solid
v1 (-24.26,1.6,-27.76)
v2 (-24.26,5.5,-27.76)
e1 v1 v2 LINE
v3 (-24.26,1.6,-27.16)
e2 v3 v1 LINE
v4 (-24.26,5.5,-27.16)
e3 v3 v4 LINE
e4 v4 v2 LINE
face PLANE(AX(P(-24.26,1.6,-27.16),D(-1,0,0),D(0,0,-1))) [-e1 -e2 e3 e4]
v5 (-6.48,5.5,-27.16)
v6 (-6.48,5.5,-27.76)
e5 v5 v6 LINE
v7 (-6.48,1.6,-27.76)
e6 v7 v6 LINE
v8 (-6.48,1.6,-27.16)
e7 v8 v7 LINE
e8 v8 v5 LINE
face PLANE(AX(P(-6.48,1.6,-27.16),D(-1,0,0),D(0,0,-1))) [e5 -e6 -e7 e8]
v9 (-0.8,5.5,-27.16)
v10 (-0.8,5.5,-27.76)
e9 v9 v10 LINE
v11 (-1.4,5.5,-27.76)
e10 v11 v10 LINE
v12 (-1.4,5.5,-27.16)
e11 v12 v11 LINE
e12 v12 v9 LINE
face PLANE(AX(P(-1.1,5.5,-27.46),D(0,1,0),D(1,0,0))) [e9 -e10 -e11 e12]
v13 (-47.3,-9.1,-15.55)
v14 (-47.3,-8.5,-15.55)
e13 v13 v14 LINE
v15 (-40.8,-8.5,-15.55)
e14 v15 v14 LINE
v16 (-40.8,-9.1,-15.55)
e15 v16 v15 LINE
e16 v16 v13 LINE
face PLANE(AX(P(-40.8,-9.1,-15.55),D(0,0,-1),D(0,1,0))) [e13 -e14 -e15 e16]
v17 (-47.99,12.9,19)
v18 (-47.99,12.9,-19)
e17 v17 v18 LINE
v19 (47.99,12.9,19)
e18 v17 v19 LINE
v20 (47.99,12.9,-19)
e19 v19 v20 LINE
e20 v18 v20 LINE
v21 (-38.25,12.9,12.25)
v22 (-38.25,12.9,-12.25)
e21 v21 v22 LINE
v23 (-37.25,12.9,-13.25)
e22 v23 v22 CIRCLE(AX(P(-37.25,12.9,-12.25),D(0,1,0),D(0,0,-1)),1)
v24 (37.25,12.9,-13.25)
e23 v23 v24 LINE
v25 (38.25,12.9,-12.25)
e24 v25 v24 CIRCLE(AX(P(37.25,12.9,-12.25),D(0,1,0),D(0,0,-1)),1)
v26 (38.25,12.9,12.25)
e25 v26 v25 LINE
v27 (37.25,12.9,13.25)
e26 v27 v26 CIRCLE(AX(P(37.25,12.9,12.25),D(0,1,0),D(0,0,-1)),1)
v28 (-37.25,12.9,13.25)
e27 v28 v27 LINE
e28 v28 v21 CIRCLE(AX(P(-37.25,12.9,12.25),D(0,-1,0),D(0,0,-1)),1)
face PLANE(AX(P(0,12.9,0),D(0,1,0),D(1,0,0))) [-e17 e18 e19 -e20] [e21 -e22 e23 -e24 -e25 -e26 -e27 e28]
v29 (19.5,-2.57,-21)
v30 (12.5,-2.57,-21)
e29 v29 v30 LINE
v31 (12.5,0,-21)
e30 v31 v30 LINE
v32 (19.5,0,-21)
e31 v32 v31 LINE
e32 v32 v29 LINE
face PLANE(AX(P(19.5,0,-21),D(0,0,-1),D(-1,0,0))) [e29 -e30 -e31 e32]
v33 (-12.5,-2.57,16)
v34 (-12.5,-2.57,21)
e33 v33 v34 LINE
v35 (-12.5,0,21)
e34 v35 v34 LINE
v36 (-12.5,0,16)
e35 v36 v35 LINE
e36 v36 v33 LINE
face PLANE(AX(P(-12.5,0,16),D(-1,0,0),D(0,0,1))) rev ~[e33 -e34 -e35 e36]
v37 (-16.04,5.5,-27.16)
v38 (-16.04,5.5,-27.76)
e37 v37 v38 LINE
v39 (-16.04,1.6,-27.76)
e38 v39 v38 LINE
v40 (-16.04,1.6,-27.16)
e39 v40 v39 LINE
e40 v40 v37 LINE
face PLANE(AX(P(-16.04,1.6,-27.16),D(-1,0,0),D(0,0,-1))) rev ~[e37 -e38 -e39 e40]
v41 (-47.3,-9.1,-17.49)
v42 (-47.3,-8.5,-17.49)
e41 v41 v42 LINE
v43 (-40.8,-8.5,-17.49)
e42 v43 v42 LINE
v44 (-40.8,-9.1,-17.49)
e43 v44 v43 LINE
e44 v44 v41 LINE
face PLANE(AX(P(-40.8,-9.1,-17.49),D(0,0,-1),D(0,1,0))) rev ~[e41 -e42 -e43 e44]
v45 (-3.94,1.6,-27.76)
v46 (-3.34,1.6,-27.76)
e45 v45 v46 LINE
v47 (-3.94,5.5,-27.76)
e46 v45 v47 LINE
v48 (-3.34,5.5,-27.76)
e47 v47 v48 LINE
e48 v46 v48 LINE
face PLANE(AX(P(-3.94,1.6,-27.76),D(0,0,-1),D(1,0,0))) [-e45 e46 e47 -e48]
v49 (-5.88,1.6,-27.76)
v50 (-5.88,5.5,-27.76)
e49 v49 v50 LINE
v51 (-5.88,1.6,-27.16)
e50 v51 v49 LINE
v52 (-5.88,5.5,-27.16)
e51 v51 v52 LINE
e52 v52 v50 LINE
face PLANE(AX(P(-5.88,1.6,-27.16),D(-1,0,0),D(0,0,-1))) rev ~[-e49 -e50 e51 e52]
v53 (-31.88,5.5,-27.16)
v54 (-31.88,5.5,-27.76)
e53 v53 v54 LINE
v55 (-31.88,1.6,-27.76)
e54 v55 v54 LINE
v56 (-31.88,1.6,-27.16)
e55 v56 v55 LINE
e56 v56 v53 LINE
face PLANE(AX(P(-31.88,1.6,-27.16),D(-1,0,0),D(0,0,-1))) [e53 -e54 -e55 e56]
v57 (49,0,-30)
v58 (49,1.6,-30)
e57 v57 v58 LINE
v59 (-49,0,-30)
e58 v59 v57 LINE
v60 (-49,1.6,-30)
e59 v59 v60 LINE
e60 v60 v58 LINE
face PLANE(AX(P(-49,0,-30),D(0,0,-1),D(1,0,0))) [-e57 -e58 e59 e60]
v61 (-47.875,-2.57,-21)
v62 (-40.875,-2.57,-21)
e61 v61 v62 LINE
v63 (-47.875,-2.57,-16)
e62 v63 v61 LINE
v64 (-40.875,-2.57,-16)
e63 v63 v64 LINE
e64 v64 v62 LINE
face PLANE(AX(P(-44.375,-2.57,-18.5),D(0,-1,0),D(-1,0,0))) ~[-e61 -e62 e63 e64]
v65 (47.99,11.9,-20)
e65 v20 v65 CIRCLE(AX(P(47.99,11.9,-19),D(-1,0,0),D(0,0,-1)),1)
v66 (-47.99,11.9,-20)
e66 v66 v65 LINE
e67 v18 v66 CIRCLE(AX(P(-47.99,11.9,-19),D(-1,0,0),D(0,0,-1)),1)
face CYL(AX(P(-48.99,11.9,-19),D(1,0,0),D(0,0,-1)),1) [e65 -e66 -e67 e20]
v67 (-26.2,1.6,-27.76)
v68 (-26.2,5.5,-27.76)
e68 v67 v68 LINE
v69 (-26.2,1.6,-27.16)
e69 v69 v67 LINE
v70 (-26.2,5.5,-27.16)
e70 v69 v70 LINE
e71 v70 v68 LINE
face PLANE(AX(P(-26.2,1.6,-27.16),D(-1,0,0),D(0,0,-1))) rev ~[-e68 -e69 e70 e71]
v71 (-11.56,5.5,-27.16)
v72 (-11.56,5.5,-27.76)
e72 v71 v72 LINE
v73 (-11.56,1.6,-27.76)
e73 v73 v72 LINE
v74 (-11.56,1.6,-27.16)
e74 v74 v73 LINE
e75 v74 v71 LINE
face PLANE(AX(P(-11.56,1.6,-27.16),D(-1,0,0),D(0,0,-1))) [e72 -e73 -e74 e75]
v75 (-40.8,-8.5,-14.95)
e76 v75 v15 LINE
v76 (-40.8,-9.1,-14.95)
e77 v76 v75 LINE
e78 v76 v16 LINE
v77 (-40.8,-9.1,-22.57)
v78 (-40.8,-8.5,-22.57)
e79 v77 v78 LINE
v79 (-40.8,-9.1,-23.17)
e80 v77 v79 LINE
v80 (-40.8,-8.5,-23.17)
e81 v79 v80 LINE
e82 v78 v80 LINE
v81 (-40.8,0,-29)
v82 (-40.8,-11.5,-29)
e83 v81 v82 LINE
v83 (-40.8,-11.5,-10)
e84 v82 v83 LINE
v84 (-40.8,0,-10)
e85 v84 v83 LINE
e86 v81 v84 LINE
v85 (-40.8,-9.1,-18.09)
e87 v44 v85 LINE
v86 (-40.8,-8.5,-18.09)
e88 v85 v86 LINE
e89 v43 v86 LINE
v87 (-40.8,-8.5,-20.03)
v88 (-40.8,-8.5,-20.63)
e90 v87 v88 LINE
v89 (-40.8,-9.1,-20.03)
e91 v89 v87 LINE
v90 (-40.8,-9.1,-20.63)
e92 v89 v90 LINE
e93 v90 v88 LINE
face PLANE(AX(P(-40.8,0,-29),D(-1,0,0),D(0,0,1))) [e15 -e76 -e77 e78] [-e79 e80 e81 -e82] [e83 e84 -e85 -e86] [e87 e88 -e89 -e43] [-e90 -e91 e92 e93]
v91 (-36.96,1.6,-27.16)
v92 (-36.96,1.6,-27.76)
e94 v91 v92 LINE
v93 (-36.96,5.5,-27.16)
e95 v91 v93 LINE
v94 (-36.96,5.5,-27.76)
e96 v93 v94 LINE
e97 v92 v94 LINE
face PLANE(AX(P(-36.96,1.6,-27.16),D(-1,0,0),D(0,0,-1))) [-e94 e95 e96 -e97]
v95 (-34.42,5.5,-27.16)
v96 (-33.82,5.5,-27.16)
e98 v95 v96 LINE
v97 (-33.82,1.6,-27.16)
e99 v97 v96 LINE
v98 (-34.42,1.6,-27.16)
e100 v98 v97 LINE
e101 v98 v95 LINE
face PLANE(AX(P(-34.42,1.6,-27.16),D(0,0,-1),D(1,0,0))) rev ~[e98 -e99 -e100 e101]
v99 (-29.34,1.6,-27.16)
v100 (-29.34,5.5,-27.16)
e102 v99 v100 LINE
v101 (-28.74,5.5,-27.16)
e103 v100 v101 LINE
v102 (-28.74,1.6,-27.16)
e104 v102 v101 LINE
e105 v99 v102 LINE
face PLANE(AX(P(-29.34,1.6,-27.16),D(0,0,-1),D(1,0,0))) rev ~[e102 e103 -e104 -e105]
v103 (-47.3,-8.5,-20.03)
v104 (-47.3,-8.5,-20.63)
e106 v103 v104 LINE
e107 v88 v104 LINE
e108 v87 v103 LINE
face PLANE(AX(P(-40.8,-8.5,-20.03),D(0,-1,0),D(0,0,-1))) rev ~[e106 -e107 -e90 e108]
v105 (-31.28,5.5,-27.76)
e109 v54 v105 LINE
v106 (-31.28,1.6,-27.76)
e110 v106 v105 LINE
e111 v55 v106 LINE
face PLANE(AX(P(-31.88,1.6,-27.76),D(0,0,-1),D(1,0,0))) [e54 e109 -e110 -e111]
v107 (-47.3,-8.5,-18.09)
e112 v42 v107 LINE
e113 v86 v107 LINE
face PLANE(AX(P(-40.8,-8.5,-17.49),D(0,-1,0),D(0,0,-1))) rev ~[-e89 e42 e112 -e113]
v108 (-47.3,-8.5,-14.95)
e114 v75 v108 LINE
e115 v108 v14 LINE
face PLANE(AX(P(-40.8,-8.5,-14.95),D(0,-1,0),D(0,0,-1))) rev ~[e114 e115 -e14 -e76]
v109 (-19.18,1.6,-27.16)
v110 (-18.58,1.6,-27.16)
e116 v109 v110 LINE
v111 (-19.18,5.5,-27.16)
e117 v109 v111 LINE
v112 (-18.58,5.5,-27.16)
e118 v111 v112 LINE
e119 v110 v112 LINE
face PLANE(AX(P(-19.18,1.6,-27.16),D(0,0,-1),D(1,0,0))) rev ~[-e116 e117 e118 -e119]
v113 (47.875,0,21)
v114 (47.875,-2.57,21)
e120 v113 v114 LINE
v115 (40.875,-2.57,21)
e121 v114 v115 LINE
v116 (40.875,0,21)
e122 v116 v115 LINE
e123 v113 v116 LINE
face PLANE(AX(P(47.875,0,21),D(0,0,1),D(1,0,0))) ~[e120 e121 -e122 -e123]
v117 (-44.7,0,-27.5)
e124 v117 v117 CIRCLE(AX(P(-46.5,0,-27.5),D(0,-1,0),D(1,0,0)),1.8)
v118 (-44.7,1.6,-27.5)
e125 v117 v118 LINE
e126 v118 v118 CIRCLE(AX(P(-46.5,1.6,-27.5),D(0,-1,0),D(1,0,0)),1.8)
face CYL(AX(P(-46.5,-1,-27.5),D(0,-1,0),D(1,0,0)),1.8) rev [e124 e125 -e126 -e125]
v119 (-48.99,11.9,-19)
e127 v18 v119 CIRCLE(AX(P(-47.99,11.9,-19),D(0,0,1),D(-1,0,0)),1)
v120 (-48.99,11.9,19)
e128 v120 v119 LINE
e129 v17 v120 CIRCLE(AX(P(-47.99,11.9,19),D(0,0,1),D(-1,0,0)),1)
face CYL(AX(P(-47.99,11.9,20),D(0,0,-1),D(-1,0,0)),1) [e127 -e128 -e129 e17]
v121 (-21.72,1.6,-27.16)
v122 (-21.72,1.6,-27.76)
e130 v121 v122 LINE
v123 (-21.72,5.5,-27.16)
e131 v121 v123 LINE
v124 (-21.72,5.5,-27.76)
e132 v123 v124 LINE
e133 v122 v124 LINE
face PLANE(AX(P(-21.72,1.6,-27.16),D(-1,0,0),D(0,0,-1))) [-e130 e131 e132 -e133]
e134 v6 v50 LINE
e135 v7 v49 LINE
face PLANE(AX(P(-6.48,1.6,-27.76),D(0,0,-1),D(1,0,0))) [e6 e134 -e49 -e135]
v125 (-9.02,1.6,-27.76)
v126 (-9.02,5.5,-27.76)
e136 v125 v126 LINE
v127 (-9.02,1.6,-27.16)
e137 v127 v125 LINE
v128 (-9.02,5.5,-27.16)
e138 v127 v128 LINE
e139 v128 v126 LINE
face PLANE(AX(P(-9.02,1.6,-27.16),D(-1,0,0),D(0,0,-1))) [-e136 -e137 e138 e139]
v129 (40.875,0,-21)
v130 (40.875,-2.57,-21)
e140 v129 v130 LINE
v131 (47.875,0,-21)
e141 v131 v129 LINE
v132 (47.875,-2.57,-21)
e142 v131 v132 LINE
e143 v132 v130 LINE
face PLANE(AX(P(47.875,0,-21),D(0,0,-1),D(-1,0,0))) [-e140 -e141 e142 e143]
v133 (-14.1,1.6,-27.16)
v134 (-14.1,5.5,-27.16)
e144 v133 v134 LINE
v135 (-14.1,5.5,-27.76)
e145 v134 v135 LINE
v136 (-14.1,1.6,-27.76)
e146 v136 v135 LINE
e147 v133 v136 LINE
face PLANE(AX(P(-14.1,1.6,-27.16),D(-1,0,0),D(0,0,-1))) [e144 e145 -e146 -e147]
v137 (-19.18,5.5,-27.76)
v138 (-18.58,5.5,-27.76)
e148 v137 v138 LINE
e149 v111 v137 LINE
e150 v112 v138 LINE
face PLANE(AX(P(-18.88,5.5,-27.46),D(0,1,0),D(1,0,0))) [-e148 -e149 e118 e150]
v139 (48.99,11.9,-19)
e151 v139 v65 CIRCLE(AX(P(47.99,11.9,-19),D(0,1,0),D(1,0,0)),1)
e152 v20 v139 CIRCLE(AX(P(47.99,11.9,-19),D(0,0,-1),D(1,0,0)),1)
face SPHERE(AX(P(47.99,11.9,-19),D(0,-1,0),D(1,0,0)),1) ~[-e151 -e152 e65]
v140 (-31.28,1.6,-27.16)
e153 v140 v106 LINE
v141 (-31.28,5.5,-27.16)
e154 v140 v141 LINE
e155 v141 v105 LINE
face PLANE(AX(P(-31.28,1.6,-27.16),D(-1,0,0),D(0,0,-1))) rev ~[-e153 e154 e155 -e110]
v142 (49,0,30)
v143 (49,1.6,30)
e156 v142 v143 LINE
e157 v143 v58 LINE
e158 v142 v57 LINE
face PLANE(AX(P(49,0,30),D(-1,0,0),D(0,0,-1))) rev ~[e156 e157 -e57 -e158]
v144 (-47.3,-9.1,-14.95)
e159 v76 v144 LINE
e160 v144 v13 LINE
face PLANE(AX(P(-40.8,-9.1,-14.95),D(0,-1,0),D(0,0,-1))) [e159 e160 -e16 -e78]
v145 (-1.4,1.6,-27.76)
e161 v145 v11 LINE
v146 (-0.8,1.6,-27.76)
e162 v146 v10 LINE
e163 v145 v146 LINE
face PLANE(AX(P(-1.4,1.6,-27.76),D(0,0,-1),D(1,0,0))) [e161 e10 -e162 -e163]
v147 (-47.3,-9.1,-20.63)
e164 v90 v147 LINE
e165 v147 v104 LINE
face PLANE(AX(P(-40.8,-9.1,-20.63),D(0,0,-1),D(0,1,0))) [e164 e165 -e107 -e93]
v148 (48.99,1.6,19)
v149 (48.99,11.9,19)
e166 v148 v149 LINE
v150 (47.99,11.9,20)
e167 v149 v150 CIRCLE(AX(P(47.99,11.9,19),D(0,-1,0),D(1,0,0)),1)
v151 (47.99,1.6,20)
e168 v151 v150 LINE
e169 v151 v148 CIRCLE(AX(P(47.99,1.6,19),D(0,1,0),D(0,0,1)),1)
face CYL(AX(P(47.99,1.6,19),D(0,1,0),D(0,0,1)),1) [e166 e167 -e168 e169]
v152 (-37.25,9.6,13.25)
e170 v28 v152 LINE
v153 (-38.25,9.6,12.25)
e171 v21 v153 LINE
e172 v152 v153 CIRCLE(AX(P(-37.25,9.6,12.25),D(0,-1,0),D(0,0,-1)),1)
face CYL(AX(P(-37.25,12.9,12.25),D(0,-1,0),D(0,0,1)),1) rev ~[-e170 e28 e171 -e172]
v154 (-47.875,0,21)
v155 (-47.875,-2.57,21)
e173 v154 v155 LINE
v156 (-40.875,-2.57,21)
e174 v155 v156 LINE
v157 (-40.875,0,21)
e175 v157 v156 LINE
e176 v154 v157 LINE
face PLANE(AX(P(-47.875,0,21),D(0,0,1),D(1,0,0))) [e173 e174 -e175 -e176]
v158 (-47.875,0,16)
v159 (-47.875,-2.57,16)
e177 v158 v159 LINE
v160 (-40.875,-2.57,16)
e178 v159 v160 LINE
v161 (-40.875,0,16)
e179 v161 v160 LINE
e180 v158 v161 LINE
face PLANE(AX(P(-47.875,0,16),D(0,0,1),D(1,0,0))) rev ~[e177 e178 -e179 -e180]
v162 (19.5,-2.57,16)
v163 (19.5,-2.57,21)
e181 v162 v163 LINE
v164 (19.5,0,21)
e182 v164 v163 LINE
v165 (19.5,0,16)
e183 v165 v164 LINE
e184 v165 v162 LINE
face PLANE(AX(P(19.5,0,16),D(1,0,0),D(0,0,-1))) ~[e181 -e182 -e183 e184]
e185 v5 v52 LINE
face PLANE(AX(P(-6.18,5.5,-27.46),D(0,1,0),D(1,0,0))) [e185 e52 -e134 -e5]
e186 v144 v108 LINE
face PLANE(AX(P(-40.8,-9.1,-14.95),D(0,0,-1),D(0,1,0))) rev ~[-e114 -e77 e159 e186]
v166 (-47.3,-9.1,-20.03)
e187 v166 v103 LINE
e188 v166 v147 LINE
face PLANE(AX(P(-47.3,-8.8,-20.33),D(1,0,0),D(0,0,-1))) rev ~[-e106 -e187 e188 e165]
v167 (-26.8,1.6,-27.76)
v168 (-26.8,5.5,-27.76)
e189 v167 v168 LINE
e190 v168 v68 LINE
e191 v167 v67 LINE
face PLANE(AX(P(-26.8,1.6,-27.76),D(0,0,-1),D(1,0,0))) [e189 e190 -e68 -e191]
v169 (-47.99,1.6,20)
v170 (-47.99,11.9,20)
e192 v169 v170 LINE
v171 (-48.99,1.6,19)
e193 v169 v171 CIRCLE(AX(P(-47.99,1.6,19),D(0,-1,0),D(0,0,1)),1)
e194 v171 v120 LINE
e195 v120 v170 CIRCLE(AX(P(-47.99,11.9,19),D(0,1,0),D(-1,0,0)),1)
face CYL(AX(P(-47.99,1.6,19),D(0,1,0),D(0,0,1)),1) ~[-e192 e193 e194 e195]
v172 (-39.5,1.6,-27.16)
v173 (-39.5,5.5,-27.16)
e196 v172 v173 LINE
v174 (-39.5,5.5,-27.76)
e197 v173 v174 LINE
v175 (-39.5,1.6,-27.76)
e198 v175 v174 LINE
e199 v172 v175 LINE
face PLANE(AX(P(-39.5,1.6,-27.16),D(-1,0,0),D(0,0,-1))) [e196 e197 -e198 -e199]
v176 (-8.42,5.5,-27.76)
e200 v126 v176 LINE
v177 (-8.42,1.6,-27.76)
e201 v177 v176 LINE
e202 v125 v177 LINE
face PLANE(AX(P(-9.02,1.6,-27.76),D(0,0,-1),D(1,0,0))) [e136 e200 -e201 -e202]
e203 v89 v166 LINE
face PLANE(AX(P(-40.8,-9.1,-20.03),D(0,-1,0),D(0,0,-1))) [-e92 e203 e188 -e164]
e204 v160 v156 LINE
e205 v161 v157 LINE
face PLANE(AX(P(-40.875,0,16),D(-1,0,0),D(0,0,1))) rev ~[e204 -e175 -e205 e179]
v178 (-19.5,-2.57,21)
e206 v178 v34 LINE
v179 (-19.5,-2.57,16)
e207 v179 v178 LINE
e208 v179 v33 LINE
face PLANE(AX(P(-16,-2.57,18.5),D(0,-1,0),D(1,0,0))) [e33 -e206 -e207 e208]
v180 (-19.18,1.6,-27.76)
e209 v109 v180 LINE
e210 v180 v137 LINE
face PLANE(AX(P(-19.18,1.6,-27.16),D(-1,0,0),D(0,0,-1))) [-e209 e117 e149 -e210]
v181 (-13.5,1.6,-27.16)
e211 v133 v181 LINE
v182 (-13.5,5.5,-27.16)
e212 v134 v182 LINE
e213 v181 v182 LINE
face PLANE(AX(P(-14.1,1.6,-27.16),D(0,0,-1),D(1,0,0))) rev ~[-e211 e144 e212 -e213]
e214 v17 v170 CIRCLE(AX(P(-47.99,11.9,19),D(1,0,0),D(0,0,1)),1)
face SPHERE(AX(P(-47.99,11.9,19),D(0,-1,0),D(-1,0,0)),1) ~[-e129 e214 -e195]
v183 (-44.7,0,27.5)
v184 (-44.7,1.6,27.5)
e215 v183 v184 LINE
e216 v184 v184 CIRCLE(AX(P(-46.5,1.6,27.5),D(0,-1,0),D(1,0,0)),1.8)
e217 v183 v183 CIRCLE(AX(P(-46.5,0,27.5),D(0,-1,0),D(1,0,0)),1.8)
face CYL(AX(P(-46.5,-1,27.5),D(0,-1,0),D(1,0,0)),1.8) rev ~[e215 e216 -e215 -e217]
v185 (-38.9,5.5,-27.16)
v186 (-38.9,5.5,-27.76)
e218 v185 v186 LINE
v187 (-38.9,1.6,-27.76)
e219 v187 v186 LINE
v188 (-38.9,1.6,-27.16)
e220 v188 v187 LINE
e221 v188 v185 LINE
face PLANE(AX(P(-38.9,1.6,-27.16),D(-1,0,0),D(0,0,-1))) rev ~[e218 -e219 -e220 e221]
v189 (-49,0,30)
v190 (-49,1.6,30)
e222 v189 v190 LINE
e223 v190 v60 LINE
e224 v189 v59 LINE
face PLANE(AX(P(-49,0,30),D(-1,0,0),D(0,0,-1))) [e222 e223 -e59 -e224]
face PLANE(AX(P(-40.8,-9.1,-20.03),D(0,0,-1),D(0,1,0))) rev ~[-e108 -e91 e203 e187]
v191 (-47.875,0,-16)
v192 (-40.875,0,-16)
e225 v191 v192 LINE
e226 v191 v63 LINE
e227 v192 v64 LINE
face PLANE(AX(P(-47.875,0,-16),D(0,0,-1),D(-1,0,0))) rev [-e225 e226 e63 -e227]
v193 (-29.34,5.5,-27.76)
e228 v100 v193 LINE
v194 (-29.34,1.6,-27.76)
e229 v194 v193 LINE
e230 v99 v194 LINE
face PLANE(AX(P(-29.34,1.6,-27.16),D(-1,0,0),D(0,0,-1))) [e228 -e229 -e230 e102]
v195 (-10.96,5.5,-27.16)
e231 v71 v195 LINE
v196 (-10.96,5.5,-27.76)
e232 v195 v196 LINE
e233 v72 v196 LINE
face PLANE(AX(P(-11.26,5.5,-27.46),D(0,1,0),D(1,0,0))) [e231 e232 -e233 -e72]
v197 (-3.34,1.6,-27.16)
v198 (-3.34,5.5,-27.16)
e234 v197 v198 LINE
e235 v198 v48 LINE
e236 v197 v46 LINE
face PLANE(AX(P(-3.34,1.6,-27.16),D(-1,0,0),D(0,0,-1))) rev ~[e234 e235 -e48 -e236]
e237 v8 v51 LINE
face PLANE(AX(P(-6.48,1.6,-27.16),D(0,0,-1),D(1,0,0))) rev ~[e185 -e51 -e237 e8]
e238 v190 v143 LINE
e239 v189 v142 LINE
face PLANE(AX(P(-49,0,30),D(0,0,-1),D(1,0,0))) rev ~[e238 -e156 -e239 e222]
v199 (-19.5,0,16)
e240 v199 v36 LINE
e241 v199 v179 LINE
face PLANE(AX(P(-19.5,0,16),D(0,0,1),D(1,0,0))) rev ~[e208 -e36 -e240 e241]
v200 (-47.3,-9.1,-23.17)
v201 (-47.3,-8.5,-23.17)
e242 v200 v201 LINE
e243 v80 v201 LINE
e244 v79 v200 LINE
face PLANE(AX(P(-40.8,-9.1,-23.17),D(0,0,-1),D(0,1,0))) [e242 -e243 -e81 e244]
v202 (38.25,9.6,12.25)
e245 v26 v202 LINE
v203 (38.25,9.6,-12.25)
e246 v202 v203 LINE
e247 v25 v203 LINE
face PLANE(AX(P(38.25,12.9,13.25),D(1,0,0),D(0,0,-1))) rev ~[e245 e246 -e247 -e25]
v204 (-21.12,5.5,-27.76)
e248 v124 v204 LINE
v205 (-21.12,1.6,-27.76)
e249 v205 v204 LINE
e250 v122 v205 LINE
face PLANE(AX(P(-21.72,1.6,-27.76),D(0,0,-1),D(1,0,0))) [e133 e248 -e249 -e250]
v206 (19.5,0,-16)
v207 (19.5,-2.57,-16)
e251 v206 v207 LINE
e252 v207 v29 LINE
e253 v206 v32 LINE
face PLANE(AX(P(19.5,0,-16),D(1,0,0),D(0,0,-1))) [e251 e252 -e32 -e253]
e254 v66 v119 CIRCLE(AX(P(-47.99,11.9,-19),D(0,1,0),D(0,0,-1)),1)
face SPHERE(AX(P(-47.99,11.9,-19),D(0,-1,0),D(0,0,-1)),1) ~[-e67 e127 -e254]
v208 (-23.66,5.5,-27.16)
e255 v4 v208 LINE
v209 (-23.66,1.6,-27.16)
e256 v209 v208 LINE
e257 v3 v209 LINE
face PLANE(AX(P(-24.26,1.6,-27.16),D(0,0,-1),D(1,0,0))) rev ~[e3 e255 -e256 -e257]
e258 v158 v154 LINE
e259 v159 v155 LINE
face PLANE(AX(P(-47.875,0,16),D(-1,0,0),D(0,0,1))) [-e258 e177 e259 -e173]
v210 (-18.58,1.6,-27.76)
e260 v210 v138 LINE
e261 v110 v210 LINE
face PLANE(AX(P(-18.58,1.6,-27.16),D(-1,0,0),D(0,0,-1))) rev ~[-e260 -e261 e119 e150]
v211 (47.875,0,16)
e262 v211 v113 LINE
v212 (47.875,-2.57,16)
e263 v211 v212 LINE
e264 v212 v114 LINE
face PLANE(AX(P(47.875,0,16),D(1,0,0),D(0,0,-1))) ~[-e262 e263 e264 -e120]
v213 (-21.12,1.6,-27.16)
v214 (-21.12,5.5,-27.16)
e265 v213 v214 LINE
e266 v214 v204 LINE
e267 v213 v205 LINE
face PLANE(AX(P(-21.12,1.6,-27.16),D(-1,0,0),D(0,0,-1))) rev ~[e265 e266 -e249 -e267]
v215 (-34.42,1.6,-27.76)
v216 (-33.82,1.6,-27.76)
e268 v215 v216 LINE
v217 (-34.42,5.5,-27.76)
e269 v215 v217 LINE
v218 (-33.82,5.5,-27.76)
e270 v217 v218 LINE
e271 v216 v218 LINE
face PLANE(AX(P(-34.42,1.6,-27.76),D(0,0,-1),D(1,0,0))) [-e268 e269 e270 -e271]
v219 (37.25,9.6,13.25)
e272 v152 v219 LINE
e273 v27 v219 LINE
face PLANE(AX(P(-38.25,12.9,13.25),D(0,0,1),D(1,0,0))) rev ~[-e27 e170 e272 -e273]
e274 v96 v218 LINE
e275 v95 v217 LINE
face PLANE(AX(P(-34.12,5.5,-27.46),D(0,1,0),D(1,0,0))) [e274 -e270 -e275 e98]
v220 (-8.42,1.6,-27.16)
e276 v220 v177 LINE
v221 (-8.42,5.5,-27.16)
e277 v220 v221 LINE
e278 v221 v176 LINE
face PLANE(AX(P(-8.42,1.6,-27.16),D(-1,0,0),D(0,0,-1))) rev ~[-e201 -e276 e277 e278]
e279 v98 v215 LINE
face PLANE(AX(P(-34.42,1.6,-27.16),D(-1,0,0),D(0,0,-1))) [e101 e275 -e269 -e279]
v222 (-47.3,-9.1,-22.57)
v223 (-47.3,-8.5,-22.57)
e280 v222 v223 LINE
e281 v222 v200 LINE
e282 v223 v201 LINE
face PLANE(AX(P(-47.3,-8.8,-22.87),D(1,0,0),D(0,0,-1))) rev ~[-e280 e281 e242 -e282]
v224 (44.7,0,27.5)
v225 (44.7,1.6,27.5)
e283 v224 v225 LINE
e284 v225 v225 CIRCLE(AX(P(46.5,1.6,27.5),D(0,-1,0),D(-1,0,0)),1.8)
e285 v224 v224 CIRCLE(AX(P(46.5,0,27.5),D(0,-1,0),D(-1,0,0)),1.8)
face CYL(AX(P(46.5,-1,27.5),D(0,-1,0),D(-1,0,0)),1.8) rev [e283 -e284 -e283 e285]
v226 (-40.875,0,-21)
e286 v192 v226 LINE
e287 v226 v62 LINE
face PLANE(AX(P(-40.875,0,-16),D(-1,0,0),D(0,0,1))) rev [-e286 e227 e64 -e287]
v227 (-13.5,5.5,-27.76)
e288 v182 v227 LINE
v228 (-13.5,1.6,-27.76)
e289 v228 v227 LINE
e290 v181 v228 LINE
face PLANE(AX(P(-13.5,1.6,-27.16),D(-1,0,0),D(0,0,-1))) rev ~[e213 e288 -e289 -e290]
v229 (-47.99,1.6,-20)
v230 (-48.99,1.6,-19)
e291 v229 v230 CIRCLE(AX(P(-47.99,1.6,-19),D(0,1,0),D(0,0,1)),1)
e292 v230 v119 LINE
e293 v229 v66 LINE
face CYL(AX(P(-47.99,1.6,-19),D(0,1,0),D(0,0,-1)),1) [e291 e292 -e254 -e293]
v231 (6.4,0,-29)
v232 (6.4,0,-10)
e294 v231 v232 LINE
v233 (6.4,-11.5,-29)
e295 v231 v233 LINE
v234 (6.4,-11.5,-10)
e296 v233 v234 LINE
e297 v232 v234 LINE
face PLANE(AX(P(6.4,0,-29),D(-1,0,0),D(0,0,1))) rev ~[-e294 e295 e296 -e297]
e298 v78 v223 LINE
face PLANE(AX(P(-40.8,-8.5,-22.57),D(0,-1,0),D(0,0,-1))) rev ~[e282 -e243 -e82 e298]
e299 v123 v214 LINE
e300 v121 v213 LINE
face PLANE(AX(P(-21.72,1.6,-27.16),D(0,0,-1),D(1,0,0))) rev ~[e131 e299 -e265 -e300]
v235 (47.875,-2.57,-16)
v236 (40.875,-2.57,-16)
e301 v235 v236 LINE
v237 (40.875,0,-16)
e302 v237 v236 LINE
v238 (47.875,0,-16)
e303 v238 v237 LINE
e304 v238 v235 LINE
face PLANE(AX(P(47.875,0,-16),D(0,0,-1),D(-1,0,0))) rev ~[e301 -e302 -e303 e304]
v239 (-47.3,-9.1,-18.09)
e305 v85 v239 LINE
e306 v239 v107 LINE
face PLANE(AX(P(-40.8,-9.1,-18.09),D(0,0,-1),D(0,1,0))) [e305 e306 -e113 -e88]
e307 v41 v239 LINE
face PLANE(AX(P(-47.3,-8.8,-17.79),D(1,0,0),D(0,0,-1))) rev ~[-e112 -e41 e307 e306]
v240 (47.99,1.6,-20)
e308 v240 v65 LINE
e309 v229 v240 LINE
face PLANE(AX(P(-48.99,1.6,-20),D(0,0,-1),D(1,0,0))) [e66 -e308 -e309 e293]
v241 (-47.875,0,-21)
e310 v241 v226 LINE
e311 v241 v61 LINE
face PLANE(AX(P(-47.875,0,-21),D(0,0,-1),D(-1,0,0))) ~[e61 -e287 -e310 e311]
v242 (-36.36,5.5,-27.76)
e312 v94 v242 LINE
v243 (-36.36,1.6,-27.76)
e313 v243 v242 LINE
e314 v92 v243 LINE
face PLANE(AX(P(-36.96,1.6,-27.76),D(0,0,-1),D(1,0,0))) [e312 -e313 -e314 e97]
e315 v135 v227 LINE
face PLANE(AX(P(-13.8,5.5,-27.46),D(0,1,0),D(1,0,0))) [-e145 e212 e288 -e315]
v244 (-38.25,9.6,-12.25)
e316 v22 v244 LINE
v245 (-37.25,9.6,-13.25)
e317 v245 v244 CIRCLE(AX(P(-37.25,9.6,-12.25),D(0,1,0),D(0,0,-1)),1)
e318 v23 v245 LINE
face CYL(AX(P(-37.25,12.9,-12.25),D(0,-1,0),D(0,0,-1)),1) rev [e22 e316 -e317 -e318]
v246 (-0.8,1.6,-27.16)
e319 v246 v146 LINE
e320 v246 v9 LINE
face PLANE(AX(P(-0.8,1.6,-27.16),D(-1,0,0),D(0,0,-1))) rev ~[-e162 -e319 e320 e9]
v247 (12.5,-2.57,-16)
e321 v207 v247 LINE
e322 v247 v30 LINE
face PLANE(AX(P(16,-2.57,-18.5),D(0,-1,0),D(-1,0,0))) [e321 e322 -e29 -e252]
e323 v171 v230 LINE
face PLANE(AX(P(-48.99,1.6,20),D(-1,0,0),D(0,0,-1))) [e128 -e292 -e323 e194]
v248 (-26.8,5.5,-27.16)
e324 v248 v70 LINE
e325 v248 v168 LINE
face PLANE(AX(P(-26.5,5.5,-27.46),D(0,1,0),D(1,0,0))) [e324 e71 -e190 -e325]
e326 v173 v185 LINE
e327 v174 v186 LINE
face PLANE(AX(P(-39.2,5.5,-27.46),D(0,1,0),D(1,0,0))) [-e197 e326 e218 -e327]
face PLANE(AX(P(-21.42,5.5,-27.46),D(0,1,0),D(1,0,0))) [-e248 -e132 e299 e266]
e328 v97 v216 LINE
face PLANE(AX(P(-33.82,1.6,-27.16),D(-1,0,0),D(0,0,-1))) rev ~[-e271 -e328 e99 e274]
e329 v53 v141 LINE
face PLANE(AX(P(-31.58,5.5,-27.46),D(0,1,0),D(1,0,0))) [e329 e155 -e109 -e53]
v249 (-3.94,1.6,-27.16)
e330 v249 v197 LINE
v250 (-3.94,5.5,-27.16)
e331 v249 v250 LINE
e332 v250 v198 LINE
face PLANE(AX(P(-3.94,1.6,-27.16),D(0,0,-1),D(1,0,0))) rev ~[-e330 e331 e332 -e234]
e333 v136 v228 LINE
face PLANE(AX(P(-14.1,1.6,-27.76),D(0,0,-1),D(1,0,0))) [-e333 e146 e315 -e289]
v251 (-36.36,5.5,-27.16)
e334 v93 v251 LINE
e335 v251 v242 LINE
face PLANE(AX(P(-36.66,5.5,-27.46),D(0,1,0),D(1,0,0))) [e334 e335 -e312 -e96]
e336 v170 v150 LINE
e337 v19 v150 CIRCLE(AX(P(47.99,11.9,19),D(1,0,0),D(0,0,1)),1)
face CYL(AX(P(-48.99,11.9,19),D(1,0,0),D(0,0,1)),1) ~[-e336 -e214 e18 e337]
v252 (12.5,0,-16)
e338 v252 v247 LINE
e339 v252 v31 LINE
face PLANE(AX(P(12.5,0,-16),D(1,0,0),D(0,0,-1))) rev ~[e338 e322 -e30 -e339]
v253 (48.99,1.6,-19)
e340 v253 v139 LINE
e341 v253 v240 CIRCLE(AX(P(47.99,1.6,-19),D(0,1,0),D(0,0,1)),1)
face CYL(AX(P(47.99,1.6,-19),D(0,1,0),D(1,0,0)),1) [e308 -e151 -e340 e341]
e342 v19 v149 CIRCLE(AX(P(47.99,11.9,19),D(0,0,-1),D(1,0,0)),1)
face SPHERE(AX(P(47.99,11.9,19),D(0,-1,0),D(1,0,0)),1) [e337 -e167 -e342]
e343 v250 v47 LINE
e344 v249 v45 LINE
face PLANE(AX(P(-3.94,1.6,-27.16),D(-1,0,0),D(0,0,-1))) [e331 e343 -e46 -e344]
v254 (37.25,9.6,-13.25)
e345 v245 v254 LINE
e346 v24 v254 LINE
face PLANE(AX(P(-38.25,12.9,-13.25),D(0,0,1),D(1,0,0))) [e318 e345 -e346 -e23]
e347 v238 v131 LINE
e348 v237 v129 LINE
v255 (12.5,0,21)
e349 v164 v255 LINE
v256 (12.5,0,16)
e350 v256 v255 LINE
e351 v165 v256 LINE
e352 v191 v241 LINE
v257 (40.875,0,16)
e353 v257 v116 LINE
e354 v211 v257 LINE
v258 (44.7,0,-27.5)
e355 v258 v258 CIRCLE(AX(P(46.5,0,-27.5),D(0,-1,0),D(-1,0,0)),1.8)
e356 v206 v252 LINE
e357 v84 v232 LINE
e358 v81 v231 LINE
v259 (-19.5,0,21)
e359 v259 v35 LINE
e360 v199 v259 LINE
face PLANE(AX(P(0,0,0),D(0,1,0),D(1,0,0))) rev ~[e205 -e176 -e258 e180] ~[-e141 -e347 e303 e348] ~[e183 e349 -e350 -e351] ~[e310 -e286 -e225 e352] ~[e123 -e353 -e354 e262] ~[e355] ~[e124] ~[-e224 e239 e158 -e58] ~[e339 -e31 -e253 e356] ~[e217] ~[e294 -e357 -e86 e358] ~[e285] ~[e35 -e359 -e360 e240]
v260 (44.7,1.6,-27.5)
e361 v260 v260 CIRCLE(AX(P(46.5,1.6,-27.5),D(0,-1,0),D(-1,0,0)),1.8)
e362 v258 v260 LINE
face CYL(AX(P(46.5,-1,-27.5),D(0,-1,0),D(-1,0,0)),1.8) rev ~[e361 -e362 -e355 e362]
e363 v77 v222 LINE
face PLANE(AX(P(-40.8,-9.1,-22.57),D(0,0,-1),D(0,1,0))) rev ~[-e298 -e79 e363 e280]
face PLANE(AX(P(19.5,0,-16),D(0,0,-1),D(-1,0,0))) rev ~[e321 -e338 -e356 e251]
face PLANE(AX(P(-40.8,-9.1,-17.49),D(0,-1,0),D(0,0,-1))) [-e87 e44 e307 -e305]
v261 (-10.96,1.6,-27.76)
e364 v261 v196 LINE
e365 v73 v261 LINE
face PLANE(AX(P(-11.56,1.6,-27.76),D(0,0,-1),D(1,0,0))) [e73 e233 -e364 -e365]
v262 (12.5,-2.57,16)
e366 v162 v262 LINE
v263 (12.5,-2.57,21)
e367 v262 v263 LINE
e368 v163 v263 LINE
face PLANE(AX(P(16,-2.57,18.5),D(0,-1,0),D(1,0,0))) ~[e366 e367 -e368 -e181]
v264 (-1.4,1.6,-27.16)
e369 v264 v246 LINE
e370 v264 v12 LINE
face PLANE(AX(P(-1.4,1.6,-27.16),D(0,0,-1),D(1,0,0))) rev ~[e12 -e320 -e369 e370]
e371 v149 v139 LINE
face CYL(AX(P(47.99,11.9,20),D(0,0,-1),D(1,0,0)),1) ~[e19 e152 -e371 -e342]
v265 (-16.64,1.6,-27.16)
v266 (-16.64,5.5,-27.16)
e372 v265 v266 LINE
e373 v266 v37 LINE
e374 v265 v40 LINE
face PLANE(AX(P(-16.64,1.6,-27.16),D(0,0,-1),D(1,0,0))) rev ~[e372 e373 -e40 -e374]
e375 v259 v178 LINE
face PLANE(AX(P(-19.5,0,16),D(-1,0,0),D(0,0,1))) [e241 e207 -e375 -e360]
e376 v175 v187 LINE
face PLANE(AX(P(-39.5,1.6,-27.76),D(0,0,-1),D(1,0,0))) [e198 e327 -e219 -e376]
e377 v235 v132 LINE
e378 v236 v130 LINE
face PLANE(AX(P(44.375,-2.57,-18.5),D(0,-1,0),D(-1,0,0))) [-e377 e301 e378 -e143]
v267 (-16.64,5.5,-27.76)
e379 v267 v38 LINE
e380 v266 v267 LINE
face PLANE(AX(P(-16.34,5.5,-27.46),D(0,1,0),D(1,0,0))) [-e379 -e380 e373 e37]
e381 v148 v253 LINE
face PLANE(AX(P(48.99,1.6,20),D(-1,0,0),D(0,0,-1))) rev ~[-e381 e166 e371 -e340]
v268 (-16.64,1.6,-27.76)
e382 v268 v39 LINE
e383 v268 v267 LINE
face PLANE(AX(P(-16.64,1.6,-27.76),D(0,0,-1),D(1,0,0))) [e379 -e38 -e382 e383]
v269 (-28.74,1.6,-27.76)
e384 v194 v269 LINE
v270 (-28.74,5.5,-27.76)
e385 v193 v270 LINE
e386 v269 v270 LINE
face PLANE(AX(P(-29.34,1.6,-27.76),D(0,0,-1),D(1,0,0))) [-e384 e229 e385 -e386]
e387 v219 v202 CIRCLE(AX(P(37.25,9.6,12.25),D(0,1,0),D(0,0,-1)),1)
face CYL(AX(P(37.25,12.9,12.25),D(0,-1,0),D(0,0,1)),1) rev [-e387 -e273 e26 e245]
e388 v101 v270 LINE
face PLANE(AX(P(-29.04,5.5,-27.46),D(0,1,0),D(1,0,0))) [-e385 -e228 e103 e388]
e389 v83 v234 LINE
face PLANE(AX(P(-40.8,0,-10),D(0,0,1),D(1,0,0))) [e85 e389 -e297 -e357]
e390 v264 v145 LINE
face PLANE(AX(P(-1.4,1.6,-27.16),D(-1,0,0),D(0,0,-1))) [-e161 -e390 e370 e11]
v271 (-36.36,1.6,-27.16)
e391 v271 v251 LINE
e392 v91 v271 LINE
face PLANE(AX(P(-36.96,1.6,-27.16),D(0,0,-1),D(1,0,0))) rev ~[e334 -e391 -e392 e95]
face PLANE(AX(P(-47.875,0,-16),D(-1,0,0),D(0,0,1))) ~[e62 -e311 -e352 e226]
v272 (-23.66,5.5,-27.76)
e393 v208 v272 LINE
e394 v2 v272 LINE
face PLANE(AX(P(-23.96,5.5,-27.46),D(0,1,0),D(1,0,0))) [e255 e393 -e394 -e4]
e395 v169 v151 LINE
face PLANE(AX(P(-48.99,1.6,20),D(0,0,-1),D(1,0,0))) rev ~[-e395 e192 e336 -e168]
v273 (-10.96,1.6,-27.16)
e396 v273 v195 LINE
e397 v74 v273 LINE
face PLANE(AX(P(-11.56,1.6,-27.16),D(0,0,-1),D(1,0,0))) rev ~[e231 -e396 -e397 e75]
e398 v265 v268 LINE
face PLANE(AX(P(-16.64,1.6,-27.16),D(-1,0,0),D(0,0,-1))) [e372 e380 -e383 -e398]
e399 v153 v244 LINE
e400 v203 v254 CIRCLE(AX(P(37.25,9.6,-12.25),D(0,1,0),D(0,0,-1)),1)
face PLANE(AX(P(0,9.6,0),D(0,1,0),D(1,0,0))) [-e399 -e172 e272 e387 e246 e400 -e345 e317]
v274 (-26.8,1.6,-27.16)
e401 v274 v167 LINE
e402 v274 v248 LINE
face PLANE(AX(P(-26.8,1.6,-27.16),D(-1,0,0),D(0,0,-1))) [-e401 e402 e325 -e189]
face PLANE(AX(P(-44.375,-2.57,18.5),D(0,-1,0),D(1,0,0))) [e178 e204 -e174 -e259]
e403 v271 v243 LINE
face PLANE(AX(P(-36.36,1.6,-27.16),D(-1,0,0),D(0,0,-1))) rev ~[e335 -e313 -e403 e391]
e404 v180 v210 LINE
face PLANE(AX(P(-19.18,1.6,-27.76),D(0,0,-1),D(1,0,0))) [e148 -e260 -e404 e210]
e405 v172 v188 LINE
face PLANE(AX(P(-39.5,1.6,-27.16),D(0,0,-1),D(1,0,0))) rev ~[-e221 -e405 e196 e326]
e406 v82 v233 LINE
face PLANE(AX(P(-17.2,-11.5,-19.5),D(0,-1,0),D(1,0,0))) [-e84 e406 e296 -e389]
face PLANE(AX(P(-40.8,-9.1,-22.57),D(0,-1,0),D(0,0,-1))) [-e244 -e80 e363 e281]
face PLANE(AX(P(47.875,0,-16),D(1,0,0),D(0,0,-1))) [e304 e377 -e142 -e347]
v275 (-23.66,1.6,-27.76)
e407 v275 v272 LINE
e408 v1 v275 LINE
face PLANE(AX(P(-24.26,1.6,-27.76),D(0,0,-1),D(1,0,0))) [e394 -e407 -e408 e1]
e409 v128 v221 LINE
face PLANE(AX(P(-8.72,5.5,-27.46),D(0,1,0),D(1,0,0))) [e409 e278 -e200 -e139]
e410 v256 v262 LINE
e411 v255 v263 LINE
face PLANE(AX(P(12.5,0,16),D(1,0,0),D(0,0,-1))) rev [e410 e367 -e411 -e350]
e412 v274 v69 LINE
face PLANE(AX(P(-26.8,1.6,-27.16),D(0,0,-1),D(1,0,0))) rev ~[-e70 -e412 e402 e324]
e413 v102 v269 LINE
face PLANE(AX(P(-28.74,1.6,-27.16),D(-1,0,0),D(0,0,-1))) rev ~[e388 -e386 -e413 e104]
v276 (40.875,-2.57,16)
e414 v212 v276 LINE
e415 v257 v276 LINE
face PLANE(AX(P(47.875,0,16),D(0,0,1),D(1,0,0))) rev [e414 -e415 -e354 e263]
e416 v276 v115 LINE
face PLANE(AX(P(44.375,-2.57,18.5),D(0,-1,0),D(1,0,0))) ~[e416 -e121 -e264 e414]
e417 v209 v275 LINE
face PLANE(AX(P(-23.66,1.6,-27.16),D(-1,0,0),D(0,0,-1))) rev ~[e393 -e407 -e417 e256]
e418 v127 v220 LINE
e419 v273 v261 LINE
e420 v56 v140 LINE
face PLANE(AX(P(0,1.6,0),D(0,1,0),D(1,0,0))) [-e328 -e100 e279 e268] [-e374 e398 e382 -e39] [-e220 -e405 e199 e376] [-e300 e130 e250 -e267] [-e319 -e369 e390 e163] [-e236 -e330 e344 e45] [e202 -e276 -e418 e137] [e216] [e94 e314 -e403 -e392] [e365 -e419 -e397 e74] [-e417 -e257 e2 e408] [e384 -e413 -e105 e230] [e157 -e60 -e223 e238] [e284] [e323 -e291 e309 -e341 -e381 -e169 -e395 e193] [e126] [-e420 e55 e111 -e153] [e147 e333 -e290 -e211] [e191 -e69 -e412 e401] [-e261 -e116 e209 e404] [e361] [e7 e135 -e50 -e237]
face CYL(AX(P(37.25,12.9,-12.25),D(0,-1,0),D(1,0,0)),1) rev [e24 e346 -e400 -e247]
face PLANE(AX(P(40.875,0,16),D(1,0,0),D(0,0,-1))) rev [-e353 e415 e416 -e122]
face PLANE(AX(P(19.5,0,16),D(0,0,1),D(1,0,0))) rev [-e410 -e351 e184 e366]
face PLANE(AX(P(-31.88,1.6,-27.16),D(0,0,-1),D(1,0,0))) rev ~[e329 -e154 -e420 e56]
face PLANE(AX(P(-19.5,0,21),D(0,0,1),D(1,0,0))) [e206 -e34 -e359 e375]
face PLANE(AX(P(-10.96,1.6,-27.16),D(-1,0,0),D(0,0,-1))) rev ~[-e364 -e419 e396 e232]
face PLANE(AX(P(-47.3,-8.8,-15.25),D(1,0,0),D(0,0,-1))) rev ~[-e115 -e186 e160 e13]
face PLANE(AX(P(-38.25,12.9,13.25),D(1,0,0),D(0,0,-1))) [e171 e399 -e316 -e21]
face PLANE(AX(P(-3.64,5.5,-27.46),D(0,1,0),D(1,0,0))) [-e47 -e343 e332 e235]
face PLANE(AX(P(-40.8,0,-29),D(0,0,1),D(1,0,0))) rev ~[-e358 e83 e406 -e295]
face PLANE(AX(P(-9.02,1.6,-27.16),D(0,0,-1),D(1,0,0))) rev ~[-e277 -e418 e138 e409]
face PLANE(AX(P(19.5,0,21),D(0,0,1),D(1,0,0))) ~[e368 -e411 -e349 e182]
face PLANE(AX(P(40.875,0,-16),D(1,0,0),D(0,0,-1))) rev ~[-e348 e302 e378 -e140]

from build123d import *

# Parameters (mm, degrees)
SKETCH1_W               = 98
SKETCH1_H               = 60
BOSS_EXTRUDE1_DEPTH     = 1.6
CUT_EXTRUDE1_START      = -2.6
SKETCH2_R               = 1.8
CUT_EXTRUDE1_DEPTH      = 3.6
SKETCH5_W               = 7
SKETCH5_H               = 5
BOSS_EXTRUDE3_DEPTH     = 2.57
MIRROR2_START           = -2.6
MIRROR2_COPY_1_SKETCH_R = 1.8
MIRROR2_COPY_1_DEPTH    = 3.6
MIRROR2_COPY_2_SKETCH_W = 7
MIRROR2_COPY_2_SKETCH_H = 5
MIRROR2_COPY_2_DEPTH    = 2.57
SKETCH3_W               = 97.98
SKETCH3_H               = 40
BOSS_EXTRUDE2_DEPTH     = 11.3
SKETCH4_W               = 76.5
SKETCH4_H               = 26.5
CUT_EXTRUDE2_DEPTH      = 3.3
FILLET1_R               = 1
SKETCH6_W               = 47.2
SKETCH6_H               = 19
BOSS_EXTRUDE4_DEPTH     = 11.5
SKETCH7_W               = 0.6
SKETCH7_H               = 0.6
BOSS_EXTRUDE5_DEPTH     = 6.5
SKETCH9_W               = 0.6
SKETCH9_H               = 0.6
BOSS_EXTRUDE7_DEPTH     = 3.9
LPATTERN1_COUNT         = 16
LPATTERN1_PITCH         = 2.54


with BuildPart() as part:
    # Sketch1 → Boss-Extrude1 (new body)
    with BuildSketch(Plane(origin=(0, 0, 0), x_dir=(1, 0, 0), z_dir=(0, 1, 0))):
        Rectangle(SKETCH1_W, SKETCH1_H)
    extrude(amount=BOSS_EXTRUDE1_DEPTH)

    # Sketch2 → Cut-Extrude1 (cut)
    with BuildSketch(Plane(origin=(0, 1.6, 0), x_dir=(1, 0, 0), z_dir=(0, 1, 0)).offset(CUT_EXTRUDE1_START)):
        with Locations((-46.5, 27.5)):
            Circle(SKETCH2_R)
    cut_extrude1 = extrude(amount=CUT_EXTRUDE1_DEPTH, mode=Mode.SUBTRACT)

    # Sketch5 → Boss-Extrude3 (add)
    with BuildSketch(Plane.XZ):
        with Locations((-44.375, 18.5)):
            Rectangle(SKETCH5_W, SKETCH5_H)
        with Locations((-16, 18.5)):
            Rectangle(SKETCH5_W, SKETCH5_H)
    boss_extrude3 = extrude(amount=BOSS_EXTRUDE3_DEPTH)

    # Mirror1: Cut-Extrude1, Boss-Extrude3 across plane
    add(cut_extrude1.mirror(Plane.XY), mode=Mode.SUBTRACT)
    add(boss_extrude3.mirror(Plane.XY))

    # Mirror2: Cut-Extrude1, Boss-Extrude3 across plane
    add(cut_extrude1.mirror(Plane(origin=(0, 0, 0), x_dir=(0, 0, 1), z_dir=(1, 0, 0))), mode=Mode.SUBTRACT)
    add(boss_extrude3.mirror(Plane(origin=(0, 0, 0), x_dir=(0, 0, 1), z_dir=(1, 0, 0))))

    # Mirror2 copy 1 sketch → Mirror2 copy 1 (cut)
    with BuildSketch(Plane(origin=(0, 1.6, 0), x_dir=(-1, 0, 0), z_dir=(0, 1, 0)).offset(MIRROR2_START)):
        with Locations((-46.5, 27.5)):
            Circle(MIRROR2_COPY_1_SKETCH_R)
    extrude(amount=MIRROR2_COPY_1_DEPTH, mode=Mode.SUBTRACT)

    # Mirror2 copy 2 sketch → Mirror2 copy 2 (add)
    with BuildSketch(Plane(origin=(0, 0, 0), x_dir=(-1, 0, 0), z_dir=(0, -1, 0))):
        with Locations((-44.375, 18.5)):
            Rectangle(MIRROR2_COPY_2_SKETCH_W, MIRROR2_COPY_2_SKETCH_H)
        with Locations((-16, 18.5)):
            Rectangle(MIRROR2_COPY_2_SKETCH_W, MIRROR2_COPY_2_SKETCH_H)
    extrude(amount=MIRROR2_COPY_2_DEPTH)

    # Sketch3 → Boss-Extrude2 (add)
    with BuildSketch(Plane(origin=(0, 1.6, 0), x_dir=(1, 0, 0), z_dir=(0, 1, 0))):
        Rectangle(SKETCH3_W, SKETCH3_H)
    extrude(amount=BOSS_EXTRUDE2_DEPTH)

    # Sketch4 → Cut-Extrude2 (cut)
    with BuildSketch(Plane(origin=(0, 12.9, 0), x_dir=(1, 0, 0), z_dir=(0, 1, 0))):
        Rectangle(SKETCH4_W, SKETCH4_H)
    extrude(amount=-CUT_EXTRUDE2_DEPTH, mode=Mode.SUBTRACT)

    # Fillet1
    fillet1_edges = [part.edges().sort_by_distance(p)[0] for p in [
        (48.99, 7.25, 20),
        (48.99, 7.25, -20),
        (-48.99, 7.25, -20),
        (-48.99, 7.25, 20),
        (48.99, 12.9, 0),
        (0, 12.9, -20),
        (-48.99, 12.9, 0),
        (0, 12.9, 20),
        (38.25, 11.25, -13.25),
        (38.25, 11.25, 13.25),
        (-38.25, 11.25, 13.25),
        (-38.25, 11.25, -13.25),
    ]]
    fillet(fillet1_edges, radius=FILLET1_R)

    # Sketch6 → Boss-Extrude4 (add)
    with BuildSketch(Plane.XZ):
        with Locations((-17.2, -19.5)):
            Rectangle(SKETCH6_W, SKETCH6_H)
    extrude(amount=BOSS_EXTRUDE4_DEPTH)

    # Sketch7 → Boss-Extrude5 (add)
    with BuildSketch(Plane(origin=(-40.8, 0, 0), x_dir=(0, 0, -1), z_dir=(1, 0, 0))):
        with Locations((15.25, -8.8)):
            Rectangle(SKETCH7_W, SKETCH7_H)
        with Locations((17.79, -8.8)):
            Rectangle(SKETCH7_W, SKETCH7_H)
        with Locations((20.33, -8.8)):
            Rectangle(SKETCH7_W, SKETCH7_H)
        with Locations((22.87, -8.8)):
            Rectangle(SKETCH7_W, SKETCH7_H)
    extrude(amount=-BOSS_EXTRUDE5_DEPTH)

    # Sketch9 → Boss-Extrude7 (add)
    with BuildSketch(Plane(origin=(0, 1.6, 0), x_dir=(1, 0, 0), z_dir=(0, 1, 0))):
        with Locations((-39.2, 27.46)):
            Rectangle(SKETCH9_W, SKETCH9_H)
    boss_extrude7 = extrude(amount=BOSS_EXTRUDE7_DEPTH)

    # LPattern1: Boss-Extrude7 ×16
    with Locations(*[(i * LPATTERN1_PITCH, 0, 0) for i in range(1, LPATTERN1_COUNT)]):
        add(boss_extrude7)


solid = part.part
